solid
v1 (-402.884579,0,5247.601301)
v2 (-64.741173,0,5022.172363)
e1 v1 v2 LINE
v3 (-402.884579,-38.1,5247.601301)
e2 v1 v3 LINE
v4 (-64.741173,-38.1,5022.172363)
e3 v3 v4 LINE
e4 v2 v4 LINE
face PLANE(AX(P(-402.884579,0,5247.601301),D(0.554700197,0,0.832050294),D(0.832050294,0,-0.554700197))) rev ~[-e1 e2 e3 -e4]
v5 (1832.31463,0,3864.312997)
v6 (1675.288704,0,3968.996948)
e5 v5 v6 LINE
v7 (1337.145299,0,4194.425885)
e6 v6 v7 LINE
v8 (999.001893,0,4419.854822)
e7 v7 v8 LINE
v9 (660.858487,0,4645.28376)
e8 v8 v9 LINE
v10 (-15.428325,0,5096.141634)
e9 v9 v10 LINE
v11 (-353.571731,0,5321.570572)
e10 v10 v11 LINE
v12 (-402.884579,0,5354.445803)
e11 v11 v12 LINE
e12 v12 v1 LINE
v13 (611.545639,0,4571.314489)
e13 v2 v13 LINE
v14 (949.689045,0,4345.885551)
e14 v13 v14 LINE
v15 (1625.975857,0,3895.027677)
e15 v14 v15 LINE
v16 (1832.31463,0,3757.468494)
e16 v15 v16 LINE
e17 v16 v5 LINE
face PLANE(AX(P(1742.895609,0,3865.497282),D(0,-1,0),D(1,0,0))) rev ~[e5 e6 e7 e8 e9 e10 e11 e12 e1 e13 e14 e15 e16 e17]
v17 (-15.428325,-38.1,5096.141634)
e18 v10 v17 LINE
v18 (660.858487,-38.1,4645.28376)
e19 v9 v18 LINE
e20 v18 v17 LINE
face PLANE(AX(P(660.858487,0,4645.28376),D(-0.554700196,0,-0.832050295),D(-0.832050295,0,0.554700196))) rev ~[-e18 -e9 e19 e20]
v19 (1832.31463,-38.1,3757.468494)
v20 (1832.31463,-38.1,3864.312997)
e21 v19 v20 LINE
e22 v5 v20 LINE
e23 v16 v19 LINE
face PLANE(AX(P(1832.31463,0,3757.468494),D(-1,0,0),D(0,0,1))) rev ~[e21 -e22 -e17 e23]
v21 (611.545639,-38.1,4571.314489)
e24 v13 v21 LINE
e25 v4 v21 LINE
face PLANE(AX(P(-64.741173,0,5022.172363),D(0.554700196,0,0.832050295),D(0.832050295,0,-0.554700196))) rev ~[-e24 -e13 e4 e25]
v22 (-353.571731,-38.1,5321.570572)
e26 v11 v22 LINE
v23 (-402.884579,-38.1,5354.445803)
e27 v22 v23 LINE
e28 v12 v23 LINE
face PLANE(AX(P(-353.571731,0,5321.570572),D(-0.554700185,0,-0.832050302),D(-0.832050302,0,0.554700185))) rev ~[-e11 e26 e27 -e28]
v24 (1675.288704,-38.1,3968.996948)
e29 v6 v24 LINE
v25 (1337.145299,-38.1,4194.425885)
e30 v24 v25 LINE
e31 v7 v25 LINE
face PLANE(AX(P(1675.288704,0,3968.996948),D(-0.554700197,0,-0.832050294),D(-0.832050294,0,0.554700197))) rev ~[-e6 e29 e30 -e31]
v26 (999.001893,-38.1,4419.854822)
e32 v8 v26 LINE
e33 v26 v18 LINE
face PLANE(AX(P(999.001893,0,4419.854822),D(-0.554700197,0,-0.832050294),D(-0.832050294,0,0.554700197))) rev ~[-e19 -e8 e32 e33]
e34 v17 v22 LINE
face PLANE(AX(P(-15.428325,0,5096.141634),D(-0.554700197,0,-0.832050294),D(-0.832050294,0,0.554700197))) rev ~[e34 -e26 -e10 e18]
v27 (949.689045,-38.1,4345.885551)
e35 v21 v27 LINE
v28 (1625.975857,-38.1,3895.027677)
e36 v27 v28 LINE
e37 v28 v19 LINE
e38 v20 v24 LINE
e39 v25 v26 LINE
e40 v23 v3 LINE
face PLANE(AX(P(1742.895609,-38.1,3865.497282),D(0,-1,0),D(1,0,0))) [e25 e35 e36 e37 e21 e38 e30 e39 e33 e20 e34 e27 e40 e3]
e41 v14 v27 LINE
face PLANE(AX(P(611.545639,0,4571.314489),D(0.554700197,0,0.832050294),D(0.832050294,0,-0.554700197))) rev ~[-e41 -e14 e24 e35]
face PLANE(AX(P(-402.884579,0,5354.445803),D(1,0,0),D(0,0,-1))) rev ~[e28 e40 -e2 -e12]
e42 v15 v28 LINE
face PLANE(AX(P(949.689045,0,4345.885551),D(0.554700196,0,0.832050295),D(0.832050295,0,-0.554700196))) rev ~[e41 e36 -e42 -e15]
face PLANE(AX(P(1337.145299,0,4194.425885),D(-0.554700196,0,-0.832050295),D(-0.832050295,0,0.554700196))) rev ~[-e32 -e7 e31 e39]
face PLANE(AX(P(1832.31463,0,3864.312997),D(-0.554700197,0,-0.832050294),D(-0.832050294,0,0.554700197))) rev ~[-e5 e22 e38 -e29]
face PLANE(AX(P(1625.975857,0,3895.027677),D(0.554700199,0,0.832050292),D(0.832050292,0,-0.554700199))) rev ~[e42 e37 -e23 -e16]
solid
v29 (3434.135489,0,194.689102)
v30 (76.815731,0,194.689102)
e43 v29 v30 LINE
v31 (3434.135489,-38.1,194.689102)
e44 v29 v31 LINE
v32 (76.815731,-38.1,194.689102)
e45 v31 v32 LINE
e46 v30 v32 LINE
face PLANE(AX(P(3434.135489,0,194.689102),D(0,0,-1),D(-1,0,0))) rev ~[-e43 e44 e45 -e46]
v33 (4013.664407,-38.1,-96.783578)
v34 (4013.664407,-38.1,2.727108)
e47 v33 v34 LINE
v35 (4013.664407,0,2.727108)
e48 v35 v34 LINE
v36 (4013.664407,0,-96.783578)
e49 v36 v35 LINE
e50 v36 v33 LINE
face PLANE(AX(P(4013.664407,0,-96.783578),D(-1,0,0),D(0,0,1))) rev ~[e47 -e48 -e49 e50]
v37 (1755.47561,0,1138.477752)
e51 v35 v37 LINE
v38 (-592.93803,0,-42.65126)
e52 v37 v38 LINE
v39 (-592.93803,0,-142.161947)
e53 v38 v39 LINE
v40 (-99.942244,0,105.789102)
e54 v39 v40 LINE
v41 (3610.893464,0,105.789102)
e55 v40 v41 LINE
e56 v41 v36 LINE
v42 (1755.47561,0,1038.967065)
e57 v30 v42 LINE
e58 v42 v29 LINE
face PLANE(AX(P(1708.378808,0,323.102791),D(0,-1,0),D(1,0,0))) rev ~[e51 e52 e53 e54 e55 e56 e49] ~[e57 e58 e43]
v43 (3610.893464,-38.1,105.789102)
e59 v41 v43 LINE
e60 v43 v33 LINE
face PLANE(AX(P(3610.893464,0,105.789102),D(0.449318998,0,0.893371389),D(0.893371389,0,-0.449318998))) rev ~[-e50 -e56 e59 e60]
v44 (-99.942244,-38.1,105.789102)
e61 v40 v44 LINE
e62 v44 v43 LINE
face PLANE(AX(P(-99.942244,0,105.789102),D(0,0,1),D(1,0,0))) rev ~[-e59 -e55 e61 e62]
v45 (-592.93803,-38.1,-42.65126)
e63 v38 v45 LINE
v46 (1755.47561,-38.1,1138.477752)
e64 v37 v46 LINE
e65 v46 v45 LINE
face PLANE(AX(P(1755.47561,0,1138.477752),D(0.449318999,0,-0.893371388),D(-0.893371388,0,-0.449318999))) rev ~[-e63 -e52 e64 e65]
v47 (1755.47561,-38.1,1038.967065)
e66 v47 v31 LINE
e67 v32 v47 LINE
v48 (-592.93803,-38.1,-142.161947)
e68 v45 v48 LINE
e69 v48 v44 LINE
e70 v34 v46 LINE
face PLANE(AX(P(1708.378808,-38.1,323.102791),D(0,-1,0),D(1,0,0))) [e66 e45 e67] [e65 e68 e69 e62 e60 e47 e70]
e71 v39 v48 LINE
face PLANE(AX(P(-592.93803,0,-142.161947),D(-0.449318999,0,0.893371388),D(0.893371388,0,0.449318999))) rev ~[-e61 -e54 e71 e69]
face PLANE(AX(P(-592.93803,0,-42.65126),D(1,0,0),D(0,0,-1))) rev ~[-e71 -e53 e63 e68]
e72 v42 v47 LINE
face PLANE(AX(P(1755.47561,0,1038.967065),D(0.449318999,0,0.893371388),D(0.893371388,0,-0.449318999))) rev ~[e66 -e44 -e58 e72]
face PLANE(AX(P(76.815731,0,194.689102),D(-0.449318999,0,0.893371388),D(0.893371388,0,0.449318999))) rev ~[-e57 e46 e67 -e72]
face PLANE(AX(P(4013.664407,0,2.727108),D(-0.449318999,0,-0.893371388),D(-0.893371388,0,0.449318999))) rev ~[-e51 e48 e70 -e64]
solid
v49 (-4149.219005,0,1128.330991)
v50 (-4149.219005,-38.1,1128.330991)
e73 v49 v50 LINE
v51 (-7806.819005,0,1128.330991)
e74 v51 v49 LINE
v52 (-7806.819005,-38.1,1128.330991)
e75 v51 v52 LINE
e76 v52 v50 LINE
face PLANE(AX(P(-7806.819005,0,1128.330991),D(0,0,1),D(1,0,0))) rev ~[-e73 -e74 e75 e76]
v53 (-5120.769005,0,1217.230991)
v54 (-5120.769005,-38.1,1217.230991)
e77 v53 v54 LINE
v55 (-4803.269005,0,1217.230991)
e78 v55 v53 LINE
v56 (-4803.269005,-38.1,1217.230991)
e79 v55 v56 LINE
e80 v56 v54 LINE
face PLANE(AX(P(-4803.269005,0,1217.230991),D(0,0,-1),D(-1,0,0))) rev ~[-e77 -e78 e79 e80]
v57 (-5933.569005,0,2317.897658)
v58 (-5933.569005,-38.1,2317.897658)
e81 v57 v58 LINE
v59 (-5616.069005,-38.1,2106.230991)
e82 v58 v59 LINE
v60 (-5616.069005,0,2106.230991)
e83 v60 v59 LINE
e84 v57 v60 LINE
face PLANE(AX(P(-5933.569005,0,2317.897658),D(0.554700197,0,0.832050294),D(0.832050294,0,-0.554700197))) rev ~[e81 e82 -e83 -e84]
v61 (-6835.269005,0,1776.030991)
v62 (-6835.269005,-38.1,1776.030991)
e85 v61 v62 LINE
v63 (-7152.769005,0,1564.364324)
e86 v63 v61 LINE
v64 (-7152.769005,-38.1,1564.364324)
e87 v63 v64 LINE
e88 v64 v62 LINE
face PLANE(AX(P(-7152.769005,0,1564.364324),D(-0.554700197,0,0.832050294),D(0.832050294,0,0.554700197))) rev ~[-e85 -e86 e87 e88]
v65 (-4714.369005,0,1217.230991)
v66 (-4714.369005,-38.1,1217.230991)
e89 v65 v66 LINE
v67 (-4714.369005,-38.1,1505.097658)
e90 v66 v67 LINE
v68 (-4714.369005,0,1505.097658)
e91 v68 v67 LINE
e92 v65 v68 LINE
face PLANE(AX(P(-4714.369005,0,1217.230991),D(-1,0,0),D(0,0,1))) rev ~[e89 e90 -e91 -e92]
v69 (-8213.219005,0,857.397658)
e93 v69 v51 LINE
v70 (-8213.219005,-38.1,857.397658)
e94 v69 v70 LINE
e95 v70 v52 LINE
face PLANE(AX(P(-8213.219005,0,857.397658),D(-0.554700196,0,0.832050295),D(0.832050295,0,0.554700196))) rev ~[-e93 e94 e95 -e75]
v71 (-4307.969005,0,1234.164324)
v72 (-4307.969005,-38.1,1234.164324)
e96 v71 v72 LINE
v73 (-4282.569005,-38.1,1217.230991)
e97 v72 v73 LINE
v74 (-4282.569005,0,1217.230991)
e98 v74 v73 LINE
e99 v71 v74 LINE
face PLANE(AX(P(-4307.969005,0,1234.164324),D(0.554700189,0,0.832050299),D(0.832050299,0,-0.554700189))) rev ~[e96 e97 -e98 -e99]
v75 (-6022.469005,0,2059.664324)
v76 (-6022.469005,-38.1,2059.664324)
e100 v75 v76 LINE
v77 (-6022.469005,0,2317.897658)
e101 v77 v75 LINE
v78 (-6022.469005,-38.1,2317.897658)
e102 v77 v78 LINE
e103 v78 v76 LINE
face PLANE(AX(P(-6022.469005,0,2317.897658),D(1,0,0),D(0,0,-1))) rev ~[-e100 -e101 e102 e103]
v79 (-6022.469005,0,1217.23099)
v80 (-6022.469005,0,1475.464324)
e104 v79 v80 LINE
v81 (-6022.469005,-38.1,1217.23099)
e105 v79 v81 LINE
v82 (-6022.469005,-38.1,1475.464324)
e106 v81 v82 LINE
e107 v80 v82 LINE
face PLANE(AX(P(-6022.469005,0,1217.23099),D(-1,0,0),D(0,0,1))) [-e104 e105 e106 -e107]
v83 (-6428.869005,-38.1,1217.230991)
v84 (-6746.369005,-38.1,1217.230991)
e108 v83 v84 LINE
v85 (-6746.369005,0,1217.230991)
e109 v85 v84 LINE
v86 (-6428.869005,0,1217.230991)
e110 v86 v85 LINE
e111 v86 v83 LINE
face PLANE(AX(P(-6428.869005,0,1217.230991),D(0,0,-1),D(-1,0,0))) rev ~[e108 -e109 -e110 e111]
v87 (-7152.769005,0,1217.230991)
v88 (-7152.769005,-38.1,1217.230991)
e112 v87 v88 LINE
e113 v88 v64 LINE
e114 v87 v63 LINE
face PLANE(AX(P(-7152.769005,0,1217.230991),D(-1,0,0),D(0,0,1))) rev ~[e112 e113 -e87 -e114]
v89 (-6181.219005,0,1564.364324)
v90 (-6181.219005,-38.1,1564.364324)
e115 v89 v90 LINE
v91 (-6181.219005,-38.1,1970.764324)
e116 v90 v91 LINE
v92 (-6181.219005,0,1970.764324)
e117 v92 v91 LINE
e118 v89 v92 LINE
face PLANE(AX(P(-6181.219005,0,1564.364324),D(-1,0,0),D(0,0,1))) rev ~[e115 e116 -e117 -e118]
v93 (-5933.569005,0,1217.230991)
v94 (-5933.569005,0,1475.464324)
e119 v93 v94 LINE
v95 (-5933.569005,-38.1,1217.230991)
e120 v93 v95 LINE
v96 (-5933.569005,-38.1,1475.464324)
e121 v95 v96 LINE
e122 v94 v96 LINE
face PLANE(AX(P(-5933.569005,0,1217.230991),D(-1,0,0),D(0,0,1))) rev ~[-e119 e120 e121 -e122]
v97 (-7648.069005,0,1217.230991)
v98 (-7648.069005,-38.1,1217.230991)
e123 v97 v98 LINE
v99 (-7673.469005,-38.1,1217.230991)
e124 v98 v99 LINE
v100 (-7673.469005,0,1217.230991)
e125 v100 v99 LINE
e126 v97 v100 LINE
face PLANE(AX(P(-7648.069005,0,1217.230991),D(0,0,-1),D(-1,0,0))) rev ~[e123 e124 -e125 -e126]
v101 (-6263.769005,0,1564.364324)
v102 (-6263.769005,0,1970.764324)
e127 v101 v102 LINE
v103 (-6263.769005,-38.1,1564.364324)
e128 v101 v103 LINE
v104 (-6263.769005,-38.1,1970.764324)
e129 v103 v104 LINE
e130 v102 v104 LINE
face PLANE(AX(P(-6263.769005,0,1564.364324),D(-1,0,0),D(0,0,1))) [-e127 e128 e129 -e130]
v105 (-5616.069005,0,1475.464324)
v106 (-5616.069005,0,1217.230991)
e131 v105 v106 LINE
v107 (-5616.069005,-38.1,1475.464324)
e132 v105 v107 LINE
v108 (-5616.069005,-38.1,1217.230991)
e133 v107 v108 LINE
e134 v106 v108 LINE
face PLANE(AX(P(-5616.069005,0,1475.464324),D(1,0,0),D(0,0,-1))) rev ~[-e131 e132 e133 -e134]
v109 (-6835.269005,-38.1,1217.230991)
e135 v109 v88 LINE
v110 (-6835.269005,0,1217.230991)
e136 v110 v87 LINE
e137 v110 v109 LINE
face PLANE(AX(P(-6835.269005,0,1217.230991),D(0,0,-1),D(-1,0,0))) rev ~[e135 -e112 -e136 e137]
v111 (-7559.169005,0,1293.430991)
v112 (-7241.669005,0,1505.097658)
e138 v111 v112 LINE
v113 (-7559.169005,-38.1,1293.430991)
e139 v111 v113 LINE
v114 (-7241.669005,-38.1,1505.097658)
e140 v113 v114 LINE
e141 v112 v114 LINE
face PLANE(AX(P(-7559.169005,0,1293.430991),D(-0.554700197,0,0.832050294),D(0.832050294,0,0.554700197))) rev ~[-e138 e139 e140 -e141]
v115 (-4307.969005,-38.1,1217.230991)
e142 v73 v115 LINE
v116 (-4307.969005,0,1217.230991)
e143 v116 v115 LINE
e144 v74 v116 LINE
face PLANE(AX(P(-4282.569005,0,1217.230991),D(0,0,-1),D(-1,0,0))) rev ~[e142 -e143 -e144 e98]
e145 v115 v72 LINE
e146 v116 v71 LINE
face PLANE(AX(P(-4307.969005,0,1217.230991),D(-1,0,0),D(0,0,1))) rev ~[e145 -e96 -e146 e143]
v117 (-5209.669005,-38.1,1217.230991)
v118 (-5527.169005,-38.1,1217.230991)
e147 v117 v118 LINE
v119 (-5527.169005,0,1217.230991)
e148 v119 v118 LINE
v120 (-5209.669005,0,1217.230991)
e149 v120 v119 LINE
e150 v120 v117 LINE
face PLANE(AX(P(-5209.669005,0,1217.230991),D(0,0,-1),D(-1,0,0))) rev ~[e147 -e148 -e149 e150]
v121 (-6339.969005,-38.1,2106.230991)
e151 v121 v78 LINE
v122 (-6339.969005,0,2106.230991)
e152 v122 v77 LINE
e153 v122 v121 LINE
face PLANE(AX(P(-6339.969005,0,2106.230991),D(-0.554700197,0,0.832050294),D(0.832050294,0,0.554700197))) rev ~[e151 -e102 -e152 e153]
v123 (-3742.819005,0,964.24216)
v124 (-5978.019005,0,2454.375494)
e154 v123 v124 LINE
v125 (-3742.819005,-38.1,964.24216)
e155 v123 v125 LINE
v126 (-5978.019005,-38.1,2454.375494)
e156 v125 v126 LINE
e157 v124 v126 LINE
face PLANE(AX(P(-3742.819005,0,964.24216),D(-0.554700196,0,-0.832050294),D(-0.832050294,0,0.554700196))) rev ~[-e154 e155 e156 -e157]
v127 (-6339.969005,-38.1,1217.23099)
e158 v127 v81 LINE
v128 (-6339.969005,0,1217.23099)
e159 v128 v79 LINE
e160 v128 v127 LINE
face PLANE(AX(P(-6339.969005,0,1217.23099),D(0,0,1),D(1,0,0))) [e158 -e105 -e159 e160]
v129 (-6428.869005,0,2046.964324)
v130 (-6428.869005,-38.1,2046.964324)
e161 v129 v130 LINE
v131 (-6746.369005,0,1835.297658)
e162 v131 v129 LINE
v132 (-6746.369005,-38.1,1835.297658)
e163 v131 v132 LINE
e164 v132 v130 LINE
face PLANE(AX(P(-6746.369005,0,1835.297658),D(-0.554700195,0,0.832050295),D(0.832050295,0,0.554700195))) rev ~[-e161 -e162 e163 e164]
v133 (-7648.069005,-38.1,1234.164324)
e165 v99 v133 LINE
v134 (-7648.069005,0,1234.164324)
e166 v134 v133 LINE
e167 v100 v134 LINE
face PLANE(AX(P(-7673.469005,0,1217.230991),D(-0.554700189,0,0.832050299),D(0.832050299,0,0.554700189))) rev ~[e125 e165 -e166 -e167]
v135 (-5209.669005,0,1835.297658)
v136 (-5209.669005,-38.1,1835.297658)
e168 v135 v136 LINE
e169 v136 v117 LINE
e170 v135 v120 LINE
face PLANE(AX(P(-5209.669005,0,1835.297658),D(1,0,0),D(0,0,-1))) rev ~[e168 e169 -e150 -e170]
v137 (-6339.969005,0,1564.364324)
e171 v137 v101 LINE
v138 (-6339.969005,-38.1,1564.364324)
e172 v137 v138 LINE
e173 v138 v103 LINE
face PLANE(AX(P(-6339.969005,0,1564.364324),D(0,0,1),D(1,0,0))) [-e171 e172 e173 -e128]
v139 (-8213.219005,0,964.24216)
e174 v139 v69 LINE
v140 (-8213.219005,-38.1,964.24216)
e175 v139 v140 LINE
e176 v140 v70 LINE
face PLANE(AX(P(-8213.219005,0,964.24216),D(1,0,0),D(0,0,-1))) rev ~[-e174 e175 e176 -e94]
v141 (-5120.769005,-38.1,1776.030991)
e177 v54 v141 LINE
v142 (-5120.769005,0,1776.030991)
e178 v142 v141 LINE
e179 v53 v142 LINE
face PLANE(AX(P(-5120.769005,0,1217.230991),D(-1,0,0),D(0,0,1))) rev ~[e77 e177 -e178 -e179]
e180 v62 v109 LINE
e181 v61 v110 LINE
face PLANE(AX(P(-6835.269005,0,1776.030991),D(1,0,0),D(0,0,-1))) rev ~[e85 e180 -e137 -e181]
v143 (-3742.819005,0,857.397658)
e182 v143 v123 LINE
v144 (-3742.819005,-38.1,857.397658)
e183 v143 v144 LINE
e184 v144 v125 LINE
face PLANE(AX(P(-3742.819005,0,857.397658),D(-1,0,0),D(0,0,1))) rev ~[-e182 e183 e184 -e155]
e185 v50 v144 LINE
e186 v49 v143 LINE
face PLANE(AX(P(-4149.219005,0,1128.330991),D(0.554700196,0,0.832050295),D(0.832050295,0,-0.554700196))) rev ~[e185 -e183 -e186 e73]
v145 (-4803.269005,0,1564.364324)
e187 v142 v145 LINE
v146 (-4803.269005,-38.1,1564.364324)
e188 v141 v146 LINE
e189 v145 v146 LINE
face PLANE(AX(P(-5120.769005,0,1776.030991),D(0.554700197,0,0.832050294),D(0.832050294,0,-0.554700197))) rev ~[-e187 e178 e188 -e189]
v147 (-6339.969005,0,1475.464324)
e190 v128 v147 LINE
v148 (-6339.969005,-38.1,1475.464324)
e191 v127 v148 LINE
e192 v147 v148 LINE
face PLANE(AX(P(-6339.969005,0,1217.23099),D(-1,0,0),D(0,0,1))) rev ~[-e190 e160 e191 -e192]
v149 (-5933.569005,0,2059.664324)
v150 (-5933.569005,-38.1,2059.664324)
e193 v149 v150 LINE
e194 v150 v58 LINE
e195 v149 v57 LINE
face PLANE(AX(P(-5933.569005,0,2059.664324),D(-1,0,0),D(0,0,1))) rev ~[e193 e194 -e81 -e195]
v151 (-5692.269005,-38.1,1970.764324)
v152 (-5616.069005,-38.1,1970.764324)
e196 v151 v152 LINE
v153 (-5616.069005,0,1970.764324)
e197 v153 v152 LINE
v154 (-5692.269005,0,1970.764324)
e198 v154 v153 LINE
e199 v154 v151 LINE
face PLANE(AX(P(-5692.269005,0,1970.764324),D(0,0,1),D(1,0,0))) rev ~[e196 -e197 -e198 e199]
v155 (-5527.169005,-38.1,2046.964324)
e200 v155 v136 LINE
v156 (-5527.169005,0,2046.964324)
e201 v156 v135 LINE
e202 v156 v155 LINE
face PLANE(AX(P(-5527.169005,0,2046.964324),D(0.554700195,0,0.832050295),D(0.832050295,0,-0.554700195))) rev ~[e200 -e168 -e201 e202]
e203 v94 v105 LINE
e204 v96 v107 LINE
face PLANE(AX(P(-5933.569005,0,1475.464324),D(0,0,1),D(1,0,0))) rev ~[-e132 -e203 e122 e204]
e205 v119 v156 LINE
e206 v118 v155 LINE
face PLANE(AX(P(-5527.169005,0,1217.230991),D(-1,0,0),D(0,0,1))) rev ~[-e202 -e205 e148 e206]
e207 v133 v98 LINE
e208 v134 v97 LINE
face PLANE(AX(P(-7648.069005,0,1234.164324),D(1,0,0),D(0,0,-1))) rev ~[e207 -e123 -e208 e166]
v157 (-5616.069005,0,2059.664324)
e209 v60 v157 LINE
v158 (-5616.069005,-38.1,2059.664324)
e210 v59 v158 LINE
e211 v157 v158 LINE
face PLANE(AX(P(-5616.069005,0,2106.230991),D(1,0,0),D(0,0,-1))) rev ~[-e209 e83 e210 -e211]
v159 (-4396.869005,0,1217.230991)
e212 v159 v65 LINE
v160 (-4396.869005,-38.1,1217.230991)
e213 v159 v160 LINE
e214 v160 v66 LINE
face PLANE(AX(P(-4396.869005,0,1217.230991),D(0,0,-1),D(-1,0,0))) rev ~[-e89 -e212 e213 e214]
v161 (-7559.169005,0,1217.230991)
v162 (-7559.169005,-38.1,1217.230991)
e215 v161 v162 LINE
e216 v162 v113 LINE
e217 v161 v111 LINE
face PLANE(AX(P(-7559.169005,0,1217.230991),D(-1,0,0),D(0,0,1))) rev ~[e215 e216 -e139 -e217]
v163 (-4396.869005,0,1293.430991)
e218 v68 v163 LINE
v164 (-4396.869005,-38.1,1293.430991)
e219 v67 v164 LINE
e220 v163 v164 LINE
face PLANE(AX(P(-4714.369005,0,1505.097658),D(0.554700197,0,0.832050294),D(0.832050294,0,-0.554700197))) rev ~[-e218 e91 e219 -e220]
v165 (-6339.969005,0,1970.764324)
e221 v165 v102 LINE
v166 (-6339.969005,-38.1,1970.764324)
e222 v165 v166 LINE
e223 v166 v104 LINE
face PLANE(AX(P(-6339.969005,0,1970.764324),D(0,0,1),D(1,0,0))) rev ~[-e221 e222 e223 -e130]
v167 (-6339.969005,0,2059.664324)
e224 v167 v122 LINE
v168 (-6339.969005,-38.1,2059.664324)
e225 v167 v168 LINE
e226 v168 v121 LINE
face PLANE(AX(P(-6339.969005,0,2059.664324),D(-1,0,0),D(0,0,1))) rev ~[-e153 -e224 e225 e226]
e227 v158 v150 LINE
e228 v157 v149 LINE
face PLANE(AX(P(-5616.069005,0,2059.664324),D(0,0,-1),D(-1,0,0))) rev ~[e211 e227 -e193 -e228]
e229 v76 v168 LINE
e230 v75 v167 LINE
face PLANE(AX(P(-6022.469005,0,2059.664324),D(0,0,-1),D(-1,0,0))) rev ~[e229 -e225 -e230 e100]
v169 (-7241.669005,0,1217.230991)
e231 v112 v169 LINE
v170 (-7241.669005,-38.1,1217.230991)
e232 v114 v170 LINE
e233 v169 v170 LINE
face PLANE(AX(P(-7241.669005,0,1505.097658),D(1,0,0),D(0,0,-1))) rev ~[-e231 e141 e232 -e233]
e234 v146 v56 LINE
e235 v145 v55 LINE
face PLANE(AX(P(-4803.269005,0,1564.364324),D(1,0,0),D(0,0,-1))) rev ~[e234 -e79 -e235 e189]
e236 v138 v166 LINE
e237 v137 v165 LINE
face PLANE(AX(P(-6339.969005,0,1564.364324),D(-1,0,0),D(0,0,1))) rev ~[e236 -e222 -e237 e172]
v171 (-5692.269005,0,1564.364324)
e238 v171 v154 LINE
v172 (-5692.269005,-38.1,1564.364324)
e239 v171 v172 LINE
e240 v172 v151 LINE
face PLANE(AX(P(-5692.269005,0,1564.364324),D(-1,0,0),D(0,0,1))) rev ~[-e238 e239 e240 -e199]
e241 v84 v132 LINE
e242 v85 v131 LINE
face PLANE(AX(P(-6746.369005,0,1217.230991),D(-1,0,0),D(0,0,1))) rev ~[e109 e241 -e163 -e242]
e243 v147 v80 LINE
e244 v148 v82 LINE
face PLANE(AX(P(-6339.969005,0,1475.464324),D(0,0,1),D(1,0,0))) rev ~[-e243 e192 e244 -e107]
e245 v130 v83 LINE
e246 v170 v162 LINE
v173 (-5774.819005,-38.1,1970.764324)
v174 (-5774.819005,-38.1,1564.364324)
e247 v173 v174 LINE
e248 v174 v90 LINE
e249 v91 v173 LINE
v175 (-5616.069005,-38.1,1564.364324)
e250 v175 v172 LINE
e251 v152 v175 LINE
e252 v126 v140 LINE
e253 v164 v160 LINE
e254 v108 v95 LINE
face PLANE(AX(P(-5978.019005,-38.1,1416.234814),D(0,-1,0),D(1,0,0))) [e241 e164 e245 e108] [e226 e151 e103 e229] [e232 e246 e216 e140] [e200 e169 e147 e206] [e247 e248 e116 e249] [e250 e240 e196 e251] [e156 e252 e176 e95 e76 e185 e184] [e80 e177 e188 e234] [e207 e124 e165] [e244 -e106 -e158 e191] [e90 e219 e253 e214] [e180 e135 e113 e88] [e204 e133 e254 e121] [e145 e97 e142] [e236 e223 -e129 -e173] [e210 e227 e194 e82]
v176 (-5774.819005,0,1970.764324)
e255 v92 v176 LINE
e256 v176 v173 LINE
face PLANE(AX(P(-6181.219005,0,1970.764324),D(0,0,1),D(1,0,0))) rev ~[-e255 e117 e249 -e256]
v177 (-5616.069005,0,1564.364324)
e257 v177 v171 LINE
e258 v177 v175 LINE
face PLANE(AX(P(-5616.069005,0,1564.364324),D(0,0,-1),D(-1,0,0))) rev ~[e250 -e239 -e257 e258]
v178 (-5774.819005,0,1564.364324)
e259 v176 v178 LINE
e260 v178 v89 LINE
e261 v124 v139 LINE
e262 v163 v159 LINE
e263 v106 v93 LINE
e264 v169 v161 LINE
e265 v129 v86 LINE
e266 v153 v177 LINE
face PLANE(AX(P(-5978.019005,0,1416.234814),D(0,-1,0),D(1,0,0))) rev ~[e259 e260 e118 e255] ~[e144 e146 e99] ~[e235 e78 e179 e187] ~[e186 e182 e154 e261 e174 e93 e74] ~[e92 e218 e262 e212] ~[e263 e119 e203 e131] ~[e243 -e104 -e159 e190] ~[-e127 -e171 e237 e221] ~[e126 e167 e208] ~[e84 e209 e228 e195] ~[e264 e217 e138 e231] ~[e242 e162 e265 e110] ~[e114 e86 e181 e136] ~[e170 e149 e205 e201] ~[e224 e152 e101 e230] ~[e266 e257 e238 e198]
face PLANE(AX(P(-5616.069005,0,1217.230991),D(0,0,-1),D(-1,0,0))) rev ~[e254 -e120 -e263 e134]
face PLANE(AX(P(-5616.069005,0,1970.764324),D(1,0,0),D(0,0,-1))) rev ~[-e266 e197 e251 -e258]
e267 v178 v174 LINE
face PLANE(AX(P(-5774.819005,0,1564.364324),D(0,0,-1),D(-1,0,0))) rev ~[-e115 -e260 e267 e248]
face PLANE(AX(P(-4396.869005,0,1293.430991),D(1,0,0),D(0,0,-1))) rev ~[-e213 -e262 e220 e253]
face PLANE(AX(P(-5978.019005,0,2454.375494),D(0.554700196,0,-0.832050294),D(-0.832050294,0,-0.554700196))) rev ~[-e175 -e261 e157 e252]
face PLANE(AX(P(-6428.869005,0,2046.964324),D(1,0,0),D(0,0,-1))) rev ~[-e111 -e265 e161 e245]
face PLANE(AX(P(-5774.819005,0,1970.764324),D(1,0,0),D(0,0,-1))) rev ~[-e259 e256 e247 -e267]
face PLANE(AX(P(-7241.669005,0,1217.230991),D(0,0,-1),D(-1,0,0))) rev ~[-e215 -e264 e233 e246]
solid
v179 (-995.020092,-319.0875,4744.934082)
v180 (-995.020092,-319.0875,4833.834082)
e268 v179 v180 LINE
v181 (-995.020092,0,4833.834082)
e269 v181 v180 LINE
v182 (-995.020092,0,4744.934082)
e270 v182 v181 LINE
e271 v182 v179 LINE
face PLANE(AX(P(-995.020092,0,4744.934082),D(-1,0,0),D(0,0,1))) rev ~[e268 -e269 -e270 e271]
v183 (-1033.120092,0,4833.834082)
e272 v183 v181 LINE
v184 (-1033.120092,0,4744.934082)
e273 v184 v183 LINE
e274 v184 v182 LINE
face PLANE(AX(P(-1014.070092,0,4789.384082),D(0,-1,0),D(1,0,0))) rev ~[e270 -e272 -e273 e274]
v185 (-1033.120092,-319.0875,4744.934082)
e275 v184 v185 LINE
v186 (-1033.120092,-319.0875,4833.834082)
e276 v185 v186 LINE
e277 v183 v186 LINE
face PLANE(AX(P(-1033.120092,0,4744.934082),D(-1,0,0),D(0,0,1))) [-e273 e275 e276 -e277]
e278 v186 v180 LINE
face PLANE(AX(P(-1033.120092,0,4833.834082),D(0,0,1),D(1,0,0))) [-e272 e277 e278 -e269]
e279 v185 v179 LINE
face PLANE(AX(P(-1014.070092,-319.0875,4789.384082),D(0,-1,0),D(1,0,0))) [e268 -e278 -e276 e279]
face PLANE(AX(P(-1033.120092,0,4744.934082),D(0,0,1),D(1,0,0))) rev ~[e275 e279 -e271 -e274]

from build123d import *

# Parameters (mm, degrees)
F1_DEPTH = 38.1
F2_W     = 317.5
F2_H     = 258.233333
F2_W_2   = 76.2
F2_H_2   = 406.4
F3_DEPTH = 38.1
F5_W     = 38.1
F5_H     = 88.9
F6_DEPTH = 319.0875
F7_DEPTH = 38.1


with BuildPart() as f1:
    # F0 (on Front) → F1 (new body)
    with BuildSketch(Plane.XZ):
        Polygon((-592.93803, -142.161947), (-99.942244, 105.789102), (3610.893464, 105.789102), (4013.664407, -96.783578), (4013.664407, 2.727108), (1755.47561, 1138.477752), (-592.93803, -42.65126), align=None)
        Polygon((3434.135489, 194.689102), (1738.685489, 194.689102), (76.815731, 194.689102), (1755.47561, 1038.967065), align=None, mode=Mode.SUBTRACT)
    extrude(amount=F1_DEPTH)


with BuildPart() as f3:
    # F2 (on Front) → F3 (new body)
    with BuildSketch(Plane.XZ):
        Polygon((-8213.219005, 857.397658), (-7806.819005, 1128.330991), (-4149.219005, 1128.330991), (-3742.819005, 857.397658), (-3742.819005, 964.24216), (-5978.019005, 2454.375494), (-8213.219005, 964.24216), align=None)
        Polygon((-7648.069005, 1234.164324), (-7648.069005, 1217.230991), (-7673.469005, 1217.230991), align=None, mode=Mode.SUBTRACT)
        Polygon((-7241.669005, 1505.097658), (-7241.669005, 1217.230991), (-7559.169005, 1217.230991), (-7559.169005, 1293.430991), align=None, mode=Mode.SUBTRACT)
        with Locations((-6181.219005, 1346.347657)):
            Rectangle(F2_W, F2_H, mode=Mode.SUBTRACT)
        Polygon((-6835.269005, 1776.030991), (-6835.269005, 1217.230991), (-7152.769005, 1217.230991), (-7152.769005, 1564.364324), align=None, mode=Mode.SUBTRACT)
        Polygon((-6428.869005, 2046.964324), (-6428.869005, 1217.230991), (-6746.369005, 1217.230991), (-6746.369005, 1835.297658), align=None, mode=Mode.SUBTRACT)
        Polygon((-4282.569005, 1217.230991), (-4307.969005, 1217.230991), (-4307.969005, 1234.164324), align=None, mode=Mode.SUBTRACT)
        Polygon((-5908.169005, 1217.230991), (-5933.569005, 1217.230991), (-5933.569005, 1475.464324), (-5616.069005, 1475.464324), (-5616.069005, 1217.230991), align=None, mode=Mode.SUBTRACT)
        Polygon((-5095.369005, 1217.230991), (-5120.769005, 1217.230991), (-5120.769005, 1776.030991), (-4803.269005, 1564.364324), (-4803.269005, 1217.230991), align=None, mode=Mode.SUBTRACT)
        Polygon((-5501.769005, 1217.230991), (-5527.169005, 1217.230991), (-5527.169005, 2046.964324), (-5209.669005, 1835.297658), (-5209.669005, 1217.230991), align=None, mode=Mode.SUBTRACT)
        Polygon((-4688.969005, 1217.230991), (-4714.369005, 1217.230991), (-4714.369005, 1505.097658), (-4396.869005, 1293.430991), (-4396.869005, 1217.230991), align=None, mode=Mode.SUBTRACT)
        with Locations((-6301.869005, 1767.564324)):
            Rectangle(F2_W_2, F2_H_2, mode=Mode.SUBTRACT)
        Polygon((-6022.469005, 2317.897658), (-6022.469005, 2059.664324), (-6339.969005, 2059.664324), (-6339.969005, 2106.230991), align=None, mode=Mode.SUBTRACT)
        Polygon((-5774.819005, 1564.364324), (-5781.169005, 1564.364324), (-6174.869005, 1564.364324), (-6181.219005, 1564.364324), (-6181.219005, 1970.764324), (-5774.819005, 1970.764324), align=None, mode=Mode.SUBTRACT)
        Polygon((-5692.269005, 1970.764324), (-5616.069005, 1970.764324), (-5616.069005, 1767.564324), (-5616.069005, 1564.364324), (-5692.269005, 1564.364324), align=None, mode=Mode.SUBTRACT)
        Polygon((-5616.069005, 2106.230991), (-5616.069005, 2059.664324), (-5933.569005, 2059.664324), (-5933.569005, 2317.897658), align=None, mode=Mode.SUBTRACT)
    extrude(amount=F3_DEPTH)


with BuildPart() as f6:
    # F5 (on Front) → F6 (new body)
    with BuildSketch(Plane.XZ):
        with Locations((-1014.070092, 4789.384082)):
            Rectangle(F5_W, F5_H)
    extrude(amount=F6_DEPTH)


with BuildPart() as f7:
    # F4 (on Front) → F7 (new body)
    with BuildSketch(Plane.XZ):
        Polygon((1625.975857, 3895.027677), (1832.31463, 3757.468494), (1832.31463, 3864.312997), (1675.288704, 3968.996948), align=None)
        Polygon((1287.832451, 4120.456614), (1625.975857, 3895.027677), (1675.288704, 3968.996948), (1337.145299, 4194.425885), align=None)
        Polygon((949.689045, 4345.885551), (1287.832451, 4120.456614), (1337.145299, 4194.425885), (999.001893, 4419.854822), align=None)
        Polygon((611.545639, 4571.314489), (949.689045, 4345.885551), (999.001893, 4419.854822), (660.858487, 4645.28376), align=None)
        Polygon((273.402233, 4796.743426), (611.545639, 4571.314489), (660.858487, 4645.28376), (322.715081, 4870.712697), align=None)
        Polygon((-64.741173, 5022.172363), (273.402233, 4796.743426), (322.715081, 4870.712697), (-15.428325, 5096.141634), align=None)
        Polygon((-402.884579, 5247.601301), (-64.741173, 5022.172363), (-15.428325, 5096.141634), (-353.571731, 5321.570572), align=None)
        Polygon((-402.884579, 5354.445803), (-402.884579, 5247.601301), (-353.571731, 5321.570572), align=None)
    extrude(amount=F7_DEPTH)


solid = Compound([f1.part, f3.part, f6.part, f7.part])
